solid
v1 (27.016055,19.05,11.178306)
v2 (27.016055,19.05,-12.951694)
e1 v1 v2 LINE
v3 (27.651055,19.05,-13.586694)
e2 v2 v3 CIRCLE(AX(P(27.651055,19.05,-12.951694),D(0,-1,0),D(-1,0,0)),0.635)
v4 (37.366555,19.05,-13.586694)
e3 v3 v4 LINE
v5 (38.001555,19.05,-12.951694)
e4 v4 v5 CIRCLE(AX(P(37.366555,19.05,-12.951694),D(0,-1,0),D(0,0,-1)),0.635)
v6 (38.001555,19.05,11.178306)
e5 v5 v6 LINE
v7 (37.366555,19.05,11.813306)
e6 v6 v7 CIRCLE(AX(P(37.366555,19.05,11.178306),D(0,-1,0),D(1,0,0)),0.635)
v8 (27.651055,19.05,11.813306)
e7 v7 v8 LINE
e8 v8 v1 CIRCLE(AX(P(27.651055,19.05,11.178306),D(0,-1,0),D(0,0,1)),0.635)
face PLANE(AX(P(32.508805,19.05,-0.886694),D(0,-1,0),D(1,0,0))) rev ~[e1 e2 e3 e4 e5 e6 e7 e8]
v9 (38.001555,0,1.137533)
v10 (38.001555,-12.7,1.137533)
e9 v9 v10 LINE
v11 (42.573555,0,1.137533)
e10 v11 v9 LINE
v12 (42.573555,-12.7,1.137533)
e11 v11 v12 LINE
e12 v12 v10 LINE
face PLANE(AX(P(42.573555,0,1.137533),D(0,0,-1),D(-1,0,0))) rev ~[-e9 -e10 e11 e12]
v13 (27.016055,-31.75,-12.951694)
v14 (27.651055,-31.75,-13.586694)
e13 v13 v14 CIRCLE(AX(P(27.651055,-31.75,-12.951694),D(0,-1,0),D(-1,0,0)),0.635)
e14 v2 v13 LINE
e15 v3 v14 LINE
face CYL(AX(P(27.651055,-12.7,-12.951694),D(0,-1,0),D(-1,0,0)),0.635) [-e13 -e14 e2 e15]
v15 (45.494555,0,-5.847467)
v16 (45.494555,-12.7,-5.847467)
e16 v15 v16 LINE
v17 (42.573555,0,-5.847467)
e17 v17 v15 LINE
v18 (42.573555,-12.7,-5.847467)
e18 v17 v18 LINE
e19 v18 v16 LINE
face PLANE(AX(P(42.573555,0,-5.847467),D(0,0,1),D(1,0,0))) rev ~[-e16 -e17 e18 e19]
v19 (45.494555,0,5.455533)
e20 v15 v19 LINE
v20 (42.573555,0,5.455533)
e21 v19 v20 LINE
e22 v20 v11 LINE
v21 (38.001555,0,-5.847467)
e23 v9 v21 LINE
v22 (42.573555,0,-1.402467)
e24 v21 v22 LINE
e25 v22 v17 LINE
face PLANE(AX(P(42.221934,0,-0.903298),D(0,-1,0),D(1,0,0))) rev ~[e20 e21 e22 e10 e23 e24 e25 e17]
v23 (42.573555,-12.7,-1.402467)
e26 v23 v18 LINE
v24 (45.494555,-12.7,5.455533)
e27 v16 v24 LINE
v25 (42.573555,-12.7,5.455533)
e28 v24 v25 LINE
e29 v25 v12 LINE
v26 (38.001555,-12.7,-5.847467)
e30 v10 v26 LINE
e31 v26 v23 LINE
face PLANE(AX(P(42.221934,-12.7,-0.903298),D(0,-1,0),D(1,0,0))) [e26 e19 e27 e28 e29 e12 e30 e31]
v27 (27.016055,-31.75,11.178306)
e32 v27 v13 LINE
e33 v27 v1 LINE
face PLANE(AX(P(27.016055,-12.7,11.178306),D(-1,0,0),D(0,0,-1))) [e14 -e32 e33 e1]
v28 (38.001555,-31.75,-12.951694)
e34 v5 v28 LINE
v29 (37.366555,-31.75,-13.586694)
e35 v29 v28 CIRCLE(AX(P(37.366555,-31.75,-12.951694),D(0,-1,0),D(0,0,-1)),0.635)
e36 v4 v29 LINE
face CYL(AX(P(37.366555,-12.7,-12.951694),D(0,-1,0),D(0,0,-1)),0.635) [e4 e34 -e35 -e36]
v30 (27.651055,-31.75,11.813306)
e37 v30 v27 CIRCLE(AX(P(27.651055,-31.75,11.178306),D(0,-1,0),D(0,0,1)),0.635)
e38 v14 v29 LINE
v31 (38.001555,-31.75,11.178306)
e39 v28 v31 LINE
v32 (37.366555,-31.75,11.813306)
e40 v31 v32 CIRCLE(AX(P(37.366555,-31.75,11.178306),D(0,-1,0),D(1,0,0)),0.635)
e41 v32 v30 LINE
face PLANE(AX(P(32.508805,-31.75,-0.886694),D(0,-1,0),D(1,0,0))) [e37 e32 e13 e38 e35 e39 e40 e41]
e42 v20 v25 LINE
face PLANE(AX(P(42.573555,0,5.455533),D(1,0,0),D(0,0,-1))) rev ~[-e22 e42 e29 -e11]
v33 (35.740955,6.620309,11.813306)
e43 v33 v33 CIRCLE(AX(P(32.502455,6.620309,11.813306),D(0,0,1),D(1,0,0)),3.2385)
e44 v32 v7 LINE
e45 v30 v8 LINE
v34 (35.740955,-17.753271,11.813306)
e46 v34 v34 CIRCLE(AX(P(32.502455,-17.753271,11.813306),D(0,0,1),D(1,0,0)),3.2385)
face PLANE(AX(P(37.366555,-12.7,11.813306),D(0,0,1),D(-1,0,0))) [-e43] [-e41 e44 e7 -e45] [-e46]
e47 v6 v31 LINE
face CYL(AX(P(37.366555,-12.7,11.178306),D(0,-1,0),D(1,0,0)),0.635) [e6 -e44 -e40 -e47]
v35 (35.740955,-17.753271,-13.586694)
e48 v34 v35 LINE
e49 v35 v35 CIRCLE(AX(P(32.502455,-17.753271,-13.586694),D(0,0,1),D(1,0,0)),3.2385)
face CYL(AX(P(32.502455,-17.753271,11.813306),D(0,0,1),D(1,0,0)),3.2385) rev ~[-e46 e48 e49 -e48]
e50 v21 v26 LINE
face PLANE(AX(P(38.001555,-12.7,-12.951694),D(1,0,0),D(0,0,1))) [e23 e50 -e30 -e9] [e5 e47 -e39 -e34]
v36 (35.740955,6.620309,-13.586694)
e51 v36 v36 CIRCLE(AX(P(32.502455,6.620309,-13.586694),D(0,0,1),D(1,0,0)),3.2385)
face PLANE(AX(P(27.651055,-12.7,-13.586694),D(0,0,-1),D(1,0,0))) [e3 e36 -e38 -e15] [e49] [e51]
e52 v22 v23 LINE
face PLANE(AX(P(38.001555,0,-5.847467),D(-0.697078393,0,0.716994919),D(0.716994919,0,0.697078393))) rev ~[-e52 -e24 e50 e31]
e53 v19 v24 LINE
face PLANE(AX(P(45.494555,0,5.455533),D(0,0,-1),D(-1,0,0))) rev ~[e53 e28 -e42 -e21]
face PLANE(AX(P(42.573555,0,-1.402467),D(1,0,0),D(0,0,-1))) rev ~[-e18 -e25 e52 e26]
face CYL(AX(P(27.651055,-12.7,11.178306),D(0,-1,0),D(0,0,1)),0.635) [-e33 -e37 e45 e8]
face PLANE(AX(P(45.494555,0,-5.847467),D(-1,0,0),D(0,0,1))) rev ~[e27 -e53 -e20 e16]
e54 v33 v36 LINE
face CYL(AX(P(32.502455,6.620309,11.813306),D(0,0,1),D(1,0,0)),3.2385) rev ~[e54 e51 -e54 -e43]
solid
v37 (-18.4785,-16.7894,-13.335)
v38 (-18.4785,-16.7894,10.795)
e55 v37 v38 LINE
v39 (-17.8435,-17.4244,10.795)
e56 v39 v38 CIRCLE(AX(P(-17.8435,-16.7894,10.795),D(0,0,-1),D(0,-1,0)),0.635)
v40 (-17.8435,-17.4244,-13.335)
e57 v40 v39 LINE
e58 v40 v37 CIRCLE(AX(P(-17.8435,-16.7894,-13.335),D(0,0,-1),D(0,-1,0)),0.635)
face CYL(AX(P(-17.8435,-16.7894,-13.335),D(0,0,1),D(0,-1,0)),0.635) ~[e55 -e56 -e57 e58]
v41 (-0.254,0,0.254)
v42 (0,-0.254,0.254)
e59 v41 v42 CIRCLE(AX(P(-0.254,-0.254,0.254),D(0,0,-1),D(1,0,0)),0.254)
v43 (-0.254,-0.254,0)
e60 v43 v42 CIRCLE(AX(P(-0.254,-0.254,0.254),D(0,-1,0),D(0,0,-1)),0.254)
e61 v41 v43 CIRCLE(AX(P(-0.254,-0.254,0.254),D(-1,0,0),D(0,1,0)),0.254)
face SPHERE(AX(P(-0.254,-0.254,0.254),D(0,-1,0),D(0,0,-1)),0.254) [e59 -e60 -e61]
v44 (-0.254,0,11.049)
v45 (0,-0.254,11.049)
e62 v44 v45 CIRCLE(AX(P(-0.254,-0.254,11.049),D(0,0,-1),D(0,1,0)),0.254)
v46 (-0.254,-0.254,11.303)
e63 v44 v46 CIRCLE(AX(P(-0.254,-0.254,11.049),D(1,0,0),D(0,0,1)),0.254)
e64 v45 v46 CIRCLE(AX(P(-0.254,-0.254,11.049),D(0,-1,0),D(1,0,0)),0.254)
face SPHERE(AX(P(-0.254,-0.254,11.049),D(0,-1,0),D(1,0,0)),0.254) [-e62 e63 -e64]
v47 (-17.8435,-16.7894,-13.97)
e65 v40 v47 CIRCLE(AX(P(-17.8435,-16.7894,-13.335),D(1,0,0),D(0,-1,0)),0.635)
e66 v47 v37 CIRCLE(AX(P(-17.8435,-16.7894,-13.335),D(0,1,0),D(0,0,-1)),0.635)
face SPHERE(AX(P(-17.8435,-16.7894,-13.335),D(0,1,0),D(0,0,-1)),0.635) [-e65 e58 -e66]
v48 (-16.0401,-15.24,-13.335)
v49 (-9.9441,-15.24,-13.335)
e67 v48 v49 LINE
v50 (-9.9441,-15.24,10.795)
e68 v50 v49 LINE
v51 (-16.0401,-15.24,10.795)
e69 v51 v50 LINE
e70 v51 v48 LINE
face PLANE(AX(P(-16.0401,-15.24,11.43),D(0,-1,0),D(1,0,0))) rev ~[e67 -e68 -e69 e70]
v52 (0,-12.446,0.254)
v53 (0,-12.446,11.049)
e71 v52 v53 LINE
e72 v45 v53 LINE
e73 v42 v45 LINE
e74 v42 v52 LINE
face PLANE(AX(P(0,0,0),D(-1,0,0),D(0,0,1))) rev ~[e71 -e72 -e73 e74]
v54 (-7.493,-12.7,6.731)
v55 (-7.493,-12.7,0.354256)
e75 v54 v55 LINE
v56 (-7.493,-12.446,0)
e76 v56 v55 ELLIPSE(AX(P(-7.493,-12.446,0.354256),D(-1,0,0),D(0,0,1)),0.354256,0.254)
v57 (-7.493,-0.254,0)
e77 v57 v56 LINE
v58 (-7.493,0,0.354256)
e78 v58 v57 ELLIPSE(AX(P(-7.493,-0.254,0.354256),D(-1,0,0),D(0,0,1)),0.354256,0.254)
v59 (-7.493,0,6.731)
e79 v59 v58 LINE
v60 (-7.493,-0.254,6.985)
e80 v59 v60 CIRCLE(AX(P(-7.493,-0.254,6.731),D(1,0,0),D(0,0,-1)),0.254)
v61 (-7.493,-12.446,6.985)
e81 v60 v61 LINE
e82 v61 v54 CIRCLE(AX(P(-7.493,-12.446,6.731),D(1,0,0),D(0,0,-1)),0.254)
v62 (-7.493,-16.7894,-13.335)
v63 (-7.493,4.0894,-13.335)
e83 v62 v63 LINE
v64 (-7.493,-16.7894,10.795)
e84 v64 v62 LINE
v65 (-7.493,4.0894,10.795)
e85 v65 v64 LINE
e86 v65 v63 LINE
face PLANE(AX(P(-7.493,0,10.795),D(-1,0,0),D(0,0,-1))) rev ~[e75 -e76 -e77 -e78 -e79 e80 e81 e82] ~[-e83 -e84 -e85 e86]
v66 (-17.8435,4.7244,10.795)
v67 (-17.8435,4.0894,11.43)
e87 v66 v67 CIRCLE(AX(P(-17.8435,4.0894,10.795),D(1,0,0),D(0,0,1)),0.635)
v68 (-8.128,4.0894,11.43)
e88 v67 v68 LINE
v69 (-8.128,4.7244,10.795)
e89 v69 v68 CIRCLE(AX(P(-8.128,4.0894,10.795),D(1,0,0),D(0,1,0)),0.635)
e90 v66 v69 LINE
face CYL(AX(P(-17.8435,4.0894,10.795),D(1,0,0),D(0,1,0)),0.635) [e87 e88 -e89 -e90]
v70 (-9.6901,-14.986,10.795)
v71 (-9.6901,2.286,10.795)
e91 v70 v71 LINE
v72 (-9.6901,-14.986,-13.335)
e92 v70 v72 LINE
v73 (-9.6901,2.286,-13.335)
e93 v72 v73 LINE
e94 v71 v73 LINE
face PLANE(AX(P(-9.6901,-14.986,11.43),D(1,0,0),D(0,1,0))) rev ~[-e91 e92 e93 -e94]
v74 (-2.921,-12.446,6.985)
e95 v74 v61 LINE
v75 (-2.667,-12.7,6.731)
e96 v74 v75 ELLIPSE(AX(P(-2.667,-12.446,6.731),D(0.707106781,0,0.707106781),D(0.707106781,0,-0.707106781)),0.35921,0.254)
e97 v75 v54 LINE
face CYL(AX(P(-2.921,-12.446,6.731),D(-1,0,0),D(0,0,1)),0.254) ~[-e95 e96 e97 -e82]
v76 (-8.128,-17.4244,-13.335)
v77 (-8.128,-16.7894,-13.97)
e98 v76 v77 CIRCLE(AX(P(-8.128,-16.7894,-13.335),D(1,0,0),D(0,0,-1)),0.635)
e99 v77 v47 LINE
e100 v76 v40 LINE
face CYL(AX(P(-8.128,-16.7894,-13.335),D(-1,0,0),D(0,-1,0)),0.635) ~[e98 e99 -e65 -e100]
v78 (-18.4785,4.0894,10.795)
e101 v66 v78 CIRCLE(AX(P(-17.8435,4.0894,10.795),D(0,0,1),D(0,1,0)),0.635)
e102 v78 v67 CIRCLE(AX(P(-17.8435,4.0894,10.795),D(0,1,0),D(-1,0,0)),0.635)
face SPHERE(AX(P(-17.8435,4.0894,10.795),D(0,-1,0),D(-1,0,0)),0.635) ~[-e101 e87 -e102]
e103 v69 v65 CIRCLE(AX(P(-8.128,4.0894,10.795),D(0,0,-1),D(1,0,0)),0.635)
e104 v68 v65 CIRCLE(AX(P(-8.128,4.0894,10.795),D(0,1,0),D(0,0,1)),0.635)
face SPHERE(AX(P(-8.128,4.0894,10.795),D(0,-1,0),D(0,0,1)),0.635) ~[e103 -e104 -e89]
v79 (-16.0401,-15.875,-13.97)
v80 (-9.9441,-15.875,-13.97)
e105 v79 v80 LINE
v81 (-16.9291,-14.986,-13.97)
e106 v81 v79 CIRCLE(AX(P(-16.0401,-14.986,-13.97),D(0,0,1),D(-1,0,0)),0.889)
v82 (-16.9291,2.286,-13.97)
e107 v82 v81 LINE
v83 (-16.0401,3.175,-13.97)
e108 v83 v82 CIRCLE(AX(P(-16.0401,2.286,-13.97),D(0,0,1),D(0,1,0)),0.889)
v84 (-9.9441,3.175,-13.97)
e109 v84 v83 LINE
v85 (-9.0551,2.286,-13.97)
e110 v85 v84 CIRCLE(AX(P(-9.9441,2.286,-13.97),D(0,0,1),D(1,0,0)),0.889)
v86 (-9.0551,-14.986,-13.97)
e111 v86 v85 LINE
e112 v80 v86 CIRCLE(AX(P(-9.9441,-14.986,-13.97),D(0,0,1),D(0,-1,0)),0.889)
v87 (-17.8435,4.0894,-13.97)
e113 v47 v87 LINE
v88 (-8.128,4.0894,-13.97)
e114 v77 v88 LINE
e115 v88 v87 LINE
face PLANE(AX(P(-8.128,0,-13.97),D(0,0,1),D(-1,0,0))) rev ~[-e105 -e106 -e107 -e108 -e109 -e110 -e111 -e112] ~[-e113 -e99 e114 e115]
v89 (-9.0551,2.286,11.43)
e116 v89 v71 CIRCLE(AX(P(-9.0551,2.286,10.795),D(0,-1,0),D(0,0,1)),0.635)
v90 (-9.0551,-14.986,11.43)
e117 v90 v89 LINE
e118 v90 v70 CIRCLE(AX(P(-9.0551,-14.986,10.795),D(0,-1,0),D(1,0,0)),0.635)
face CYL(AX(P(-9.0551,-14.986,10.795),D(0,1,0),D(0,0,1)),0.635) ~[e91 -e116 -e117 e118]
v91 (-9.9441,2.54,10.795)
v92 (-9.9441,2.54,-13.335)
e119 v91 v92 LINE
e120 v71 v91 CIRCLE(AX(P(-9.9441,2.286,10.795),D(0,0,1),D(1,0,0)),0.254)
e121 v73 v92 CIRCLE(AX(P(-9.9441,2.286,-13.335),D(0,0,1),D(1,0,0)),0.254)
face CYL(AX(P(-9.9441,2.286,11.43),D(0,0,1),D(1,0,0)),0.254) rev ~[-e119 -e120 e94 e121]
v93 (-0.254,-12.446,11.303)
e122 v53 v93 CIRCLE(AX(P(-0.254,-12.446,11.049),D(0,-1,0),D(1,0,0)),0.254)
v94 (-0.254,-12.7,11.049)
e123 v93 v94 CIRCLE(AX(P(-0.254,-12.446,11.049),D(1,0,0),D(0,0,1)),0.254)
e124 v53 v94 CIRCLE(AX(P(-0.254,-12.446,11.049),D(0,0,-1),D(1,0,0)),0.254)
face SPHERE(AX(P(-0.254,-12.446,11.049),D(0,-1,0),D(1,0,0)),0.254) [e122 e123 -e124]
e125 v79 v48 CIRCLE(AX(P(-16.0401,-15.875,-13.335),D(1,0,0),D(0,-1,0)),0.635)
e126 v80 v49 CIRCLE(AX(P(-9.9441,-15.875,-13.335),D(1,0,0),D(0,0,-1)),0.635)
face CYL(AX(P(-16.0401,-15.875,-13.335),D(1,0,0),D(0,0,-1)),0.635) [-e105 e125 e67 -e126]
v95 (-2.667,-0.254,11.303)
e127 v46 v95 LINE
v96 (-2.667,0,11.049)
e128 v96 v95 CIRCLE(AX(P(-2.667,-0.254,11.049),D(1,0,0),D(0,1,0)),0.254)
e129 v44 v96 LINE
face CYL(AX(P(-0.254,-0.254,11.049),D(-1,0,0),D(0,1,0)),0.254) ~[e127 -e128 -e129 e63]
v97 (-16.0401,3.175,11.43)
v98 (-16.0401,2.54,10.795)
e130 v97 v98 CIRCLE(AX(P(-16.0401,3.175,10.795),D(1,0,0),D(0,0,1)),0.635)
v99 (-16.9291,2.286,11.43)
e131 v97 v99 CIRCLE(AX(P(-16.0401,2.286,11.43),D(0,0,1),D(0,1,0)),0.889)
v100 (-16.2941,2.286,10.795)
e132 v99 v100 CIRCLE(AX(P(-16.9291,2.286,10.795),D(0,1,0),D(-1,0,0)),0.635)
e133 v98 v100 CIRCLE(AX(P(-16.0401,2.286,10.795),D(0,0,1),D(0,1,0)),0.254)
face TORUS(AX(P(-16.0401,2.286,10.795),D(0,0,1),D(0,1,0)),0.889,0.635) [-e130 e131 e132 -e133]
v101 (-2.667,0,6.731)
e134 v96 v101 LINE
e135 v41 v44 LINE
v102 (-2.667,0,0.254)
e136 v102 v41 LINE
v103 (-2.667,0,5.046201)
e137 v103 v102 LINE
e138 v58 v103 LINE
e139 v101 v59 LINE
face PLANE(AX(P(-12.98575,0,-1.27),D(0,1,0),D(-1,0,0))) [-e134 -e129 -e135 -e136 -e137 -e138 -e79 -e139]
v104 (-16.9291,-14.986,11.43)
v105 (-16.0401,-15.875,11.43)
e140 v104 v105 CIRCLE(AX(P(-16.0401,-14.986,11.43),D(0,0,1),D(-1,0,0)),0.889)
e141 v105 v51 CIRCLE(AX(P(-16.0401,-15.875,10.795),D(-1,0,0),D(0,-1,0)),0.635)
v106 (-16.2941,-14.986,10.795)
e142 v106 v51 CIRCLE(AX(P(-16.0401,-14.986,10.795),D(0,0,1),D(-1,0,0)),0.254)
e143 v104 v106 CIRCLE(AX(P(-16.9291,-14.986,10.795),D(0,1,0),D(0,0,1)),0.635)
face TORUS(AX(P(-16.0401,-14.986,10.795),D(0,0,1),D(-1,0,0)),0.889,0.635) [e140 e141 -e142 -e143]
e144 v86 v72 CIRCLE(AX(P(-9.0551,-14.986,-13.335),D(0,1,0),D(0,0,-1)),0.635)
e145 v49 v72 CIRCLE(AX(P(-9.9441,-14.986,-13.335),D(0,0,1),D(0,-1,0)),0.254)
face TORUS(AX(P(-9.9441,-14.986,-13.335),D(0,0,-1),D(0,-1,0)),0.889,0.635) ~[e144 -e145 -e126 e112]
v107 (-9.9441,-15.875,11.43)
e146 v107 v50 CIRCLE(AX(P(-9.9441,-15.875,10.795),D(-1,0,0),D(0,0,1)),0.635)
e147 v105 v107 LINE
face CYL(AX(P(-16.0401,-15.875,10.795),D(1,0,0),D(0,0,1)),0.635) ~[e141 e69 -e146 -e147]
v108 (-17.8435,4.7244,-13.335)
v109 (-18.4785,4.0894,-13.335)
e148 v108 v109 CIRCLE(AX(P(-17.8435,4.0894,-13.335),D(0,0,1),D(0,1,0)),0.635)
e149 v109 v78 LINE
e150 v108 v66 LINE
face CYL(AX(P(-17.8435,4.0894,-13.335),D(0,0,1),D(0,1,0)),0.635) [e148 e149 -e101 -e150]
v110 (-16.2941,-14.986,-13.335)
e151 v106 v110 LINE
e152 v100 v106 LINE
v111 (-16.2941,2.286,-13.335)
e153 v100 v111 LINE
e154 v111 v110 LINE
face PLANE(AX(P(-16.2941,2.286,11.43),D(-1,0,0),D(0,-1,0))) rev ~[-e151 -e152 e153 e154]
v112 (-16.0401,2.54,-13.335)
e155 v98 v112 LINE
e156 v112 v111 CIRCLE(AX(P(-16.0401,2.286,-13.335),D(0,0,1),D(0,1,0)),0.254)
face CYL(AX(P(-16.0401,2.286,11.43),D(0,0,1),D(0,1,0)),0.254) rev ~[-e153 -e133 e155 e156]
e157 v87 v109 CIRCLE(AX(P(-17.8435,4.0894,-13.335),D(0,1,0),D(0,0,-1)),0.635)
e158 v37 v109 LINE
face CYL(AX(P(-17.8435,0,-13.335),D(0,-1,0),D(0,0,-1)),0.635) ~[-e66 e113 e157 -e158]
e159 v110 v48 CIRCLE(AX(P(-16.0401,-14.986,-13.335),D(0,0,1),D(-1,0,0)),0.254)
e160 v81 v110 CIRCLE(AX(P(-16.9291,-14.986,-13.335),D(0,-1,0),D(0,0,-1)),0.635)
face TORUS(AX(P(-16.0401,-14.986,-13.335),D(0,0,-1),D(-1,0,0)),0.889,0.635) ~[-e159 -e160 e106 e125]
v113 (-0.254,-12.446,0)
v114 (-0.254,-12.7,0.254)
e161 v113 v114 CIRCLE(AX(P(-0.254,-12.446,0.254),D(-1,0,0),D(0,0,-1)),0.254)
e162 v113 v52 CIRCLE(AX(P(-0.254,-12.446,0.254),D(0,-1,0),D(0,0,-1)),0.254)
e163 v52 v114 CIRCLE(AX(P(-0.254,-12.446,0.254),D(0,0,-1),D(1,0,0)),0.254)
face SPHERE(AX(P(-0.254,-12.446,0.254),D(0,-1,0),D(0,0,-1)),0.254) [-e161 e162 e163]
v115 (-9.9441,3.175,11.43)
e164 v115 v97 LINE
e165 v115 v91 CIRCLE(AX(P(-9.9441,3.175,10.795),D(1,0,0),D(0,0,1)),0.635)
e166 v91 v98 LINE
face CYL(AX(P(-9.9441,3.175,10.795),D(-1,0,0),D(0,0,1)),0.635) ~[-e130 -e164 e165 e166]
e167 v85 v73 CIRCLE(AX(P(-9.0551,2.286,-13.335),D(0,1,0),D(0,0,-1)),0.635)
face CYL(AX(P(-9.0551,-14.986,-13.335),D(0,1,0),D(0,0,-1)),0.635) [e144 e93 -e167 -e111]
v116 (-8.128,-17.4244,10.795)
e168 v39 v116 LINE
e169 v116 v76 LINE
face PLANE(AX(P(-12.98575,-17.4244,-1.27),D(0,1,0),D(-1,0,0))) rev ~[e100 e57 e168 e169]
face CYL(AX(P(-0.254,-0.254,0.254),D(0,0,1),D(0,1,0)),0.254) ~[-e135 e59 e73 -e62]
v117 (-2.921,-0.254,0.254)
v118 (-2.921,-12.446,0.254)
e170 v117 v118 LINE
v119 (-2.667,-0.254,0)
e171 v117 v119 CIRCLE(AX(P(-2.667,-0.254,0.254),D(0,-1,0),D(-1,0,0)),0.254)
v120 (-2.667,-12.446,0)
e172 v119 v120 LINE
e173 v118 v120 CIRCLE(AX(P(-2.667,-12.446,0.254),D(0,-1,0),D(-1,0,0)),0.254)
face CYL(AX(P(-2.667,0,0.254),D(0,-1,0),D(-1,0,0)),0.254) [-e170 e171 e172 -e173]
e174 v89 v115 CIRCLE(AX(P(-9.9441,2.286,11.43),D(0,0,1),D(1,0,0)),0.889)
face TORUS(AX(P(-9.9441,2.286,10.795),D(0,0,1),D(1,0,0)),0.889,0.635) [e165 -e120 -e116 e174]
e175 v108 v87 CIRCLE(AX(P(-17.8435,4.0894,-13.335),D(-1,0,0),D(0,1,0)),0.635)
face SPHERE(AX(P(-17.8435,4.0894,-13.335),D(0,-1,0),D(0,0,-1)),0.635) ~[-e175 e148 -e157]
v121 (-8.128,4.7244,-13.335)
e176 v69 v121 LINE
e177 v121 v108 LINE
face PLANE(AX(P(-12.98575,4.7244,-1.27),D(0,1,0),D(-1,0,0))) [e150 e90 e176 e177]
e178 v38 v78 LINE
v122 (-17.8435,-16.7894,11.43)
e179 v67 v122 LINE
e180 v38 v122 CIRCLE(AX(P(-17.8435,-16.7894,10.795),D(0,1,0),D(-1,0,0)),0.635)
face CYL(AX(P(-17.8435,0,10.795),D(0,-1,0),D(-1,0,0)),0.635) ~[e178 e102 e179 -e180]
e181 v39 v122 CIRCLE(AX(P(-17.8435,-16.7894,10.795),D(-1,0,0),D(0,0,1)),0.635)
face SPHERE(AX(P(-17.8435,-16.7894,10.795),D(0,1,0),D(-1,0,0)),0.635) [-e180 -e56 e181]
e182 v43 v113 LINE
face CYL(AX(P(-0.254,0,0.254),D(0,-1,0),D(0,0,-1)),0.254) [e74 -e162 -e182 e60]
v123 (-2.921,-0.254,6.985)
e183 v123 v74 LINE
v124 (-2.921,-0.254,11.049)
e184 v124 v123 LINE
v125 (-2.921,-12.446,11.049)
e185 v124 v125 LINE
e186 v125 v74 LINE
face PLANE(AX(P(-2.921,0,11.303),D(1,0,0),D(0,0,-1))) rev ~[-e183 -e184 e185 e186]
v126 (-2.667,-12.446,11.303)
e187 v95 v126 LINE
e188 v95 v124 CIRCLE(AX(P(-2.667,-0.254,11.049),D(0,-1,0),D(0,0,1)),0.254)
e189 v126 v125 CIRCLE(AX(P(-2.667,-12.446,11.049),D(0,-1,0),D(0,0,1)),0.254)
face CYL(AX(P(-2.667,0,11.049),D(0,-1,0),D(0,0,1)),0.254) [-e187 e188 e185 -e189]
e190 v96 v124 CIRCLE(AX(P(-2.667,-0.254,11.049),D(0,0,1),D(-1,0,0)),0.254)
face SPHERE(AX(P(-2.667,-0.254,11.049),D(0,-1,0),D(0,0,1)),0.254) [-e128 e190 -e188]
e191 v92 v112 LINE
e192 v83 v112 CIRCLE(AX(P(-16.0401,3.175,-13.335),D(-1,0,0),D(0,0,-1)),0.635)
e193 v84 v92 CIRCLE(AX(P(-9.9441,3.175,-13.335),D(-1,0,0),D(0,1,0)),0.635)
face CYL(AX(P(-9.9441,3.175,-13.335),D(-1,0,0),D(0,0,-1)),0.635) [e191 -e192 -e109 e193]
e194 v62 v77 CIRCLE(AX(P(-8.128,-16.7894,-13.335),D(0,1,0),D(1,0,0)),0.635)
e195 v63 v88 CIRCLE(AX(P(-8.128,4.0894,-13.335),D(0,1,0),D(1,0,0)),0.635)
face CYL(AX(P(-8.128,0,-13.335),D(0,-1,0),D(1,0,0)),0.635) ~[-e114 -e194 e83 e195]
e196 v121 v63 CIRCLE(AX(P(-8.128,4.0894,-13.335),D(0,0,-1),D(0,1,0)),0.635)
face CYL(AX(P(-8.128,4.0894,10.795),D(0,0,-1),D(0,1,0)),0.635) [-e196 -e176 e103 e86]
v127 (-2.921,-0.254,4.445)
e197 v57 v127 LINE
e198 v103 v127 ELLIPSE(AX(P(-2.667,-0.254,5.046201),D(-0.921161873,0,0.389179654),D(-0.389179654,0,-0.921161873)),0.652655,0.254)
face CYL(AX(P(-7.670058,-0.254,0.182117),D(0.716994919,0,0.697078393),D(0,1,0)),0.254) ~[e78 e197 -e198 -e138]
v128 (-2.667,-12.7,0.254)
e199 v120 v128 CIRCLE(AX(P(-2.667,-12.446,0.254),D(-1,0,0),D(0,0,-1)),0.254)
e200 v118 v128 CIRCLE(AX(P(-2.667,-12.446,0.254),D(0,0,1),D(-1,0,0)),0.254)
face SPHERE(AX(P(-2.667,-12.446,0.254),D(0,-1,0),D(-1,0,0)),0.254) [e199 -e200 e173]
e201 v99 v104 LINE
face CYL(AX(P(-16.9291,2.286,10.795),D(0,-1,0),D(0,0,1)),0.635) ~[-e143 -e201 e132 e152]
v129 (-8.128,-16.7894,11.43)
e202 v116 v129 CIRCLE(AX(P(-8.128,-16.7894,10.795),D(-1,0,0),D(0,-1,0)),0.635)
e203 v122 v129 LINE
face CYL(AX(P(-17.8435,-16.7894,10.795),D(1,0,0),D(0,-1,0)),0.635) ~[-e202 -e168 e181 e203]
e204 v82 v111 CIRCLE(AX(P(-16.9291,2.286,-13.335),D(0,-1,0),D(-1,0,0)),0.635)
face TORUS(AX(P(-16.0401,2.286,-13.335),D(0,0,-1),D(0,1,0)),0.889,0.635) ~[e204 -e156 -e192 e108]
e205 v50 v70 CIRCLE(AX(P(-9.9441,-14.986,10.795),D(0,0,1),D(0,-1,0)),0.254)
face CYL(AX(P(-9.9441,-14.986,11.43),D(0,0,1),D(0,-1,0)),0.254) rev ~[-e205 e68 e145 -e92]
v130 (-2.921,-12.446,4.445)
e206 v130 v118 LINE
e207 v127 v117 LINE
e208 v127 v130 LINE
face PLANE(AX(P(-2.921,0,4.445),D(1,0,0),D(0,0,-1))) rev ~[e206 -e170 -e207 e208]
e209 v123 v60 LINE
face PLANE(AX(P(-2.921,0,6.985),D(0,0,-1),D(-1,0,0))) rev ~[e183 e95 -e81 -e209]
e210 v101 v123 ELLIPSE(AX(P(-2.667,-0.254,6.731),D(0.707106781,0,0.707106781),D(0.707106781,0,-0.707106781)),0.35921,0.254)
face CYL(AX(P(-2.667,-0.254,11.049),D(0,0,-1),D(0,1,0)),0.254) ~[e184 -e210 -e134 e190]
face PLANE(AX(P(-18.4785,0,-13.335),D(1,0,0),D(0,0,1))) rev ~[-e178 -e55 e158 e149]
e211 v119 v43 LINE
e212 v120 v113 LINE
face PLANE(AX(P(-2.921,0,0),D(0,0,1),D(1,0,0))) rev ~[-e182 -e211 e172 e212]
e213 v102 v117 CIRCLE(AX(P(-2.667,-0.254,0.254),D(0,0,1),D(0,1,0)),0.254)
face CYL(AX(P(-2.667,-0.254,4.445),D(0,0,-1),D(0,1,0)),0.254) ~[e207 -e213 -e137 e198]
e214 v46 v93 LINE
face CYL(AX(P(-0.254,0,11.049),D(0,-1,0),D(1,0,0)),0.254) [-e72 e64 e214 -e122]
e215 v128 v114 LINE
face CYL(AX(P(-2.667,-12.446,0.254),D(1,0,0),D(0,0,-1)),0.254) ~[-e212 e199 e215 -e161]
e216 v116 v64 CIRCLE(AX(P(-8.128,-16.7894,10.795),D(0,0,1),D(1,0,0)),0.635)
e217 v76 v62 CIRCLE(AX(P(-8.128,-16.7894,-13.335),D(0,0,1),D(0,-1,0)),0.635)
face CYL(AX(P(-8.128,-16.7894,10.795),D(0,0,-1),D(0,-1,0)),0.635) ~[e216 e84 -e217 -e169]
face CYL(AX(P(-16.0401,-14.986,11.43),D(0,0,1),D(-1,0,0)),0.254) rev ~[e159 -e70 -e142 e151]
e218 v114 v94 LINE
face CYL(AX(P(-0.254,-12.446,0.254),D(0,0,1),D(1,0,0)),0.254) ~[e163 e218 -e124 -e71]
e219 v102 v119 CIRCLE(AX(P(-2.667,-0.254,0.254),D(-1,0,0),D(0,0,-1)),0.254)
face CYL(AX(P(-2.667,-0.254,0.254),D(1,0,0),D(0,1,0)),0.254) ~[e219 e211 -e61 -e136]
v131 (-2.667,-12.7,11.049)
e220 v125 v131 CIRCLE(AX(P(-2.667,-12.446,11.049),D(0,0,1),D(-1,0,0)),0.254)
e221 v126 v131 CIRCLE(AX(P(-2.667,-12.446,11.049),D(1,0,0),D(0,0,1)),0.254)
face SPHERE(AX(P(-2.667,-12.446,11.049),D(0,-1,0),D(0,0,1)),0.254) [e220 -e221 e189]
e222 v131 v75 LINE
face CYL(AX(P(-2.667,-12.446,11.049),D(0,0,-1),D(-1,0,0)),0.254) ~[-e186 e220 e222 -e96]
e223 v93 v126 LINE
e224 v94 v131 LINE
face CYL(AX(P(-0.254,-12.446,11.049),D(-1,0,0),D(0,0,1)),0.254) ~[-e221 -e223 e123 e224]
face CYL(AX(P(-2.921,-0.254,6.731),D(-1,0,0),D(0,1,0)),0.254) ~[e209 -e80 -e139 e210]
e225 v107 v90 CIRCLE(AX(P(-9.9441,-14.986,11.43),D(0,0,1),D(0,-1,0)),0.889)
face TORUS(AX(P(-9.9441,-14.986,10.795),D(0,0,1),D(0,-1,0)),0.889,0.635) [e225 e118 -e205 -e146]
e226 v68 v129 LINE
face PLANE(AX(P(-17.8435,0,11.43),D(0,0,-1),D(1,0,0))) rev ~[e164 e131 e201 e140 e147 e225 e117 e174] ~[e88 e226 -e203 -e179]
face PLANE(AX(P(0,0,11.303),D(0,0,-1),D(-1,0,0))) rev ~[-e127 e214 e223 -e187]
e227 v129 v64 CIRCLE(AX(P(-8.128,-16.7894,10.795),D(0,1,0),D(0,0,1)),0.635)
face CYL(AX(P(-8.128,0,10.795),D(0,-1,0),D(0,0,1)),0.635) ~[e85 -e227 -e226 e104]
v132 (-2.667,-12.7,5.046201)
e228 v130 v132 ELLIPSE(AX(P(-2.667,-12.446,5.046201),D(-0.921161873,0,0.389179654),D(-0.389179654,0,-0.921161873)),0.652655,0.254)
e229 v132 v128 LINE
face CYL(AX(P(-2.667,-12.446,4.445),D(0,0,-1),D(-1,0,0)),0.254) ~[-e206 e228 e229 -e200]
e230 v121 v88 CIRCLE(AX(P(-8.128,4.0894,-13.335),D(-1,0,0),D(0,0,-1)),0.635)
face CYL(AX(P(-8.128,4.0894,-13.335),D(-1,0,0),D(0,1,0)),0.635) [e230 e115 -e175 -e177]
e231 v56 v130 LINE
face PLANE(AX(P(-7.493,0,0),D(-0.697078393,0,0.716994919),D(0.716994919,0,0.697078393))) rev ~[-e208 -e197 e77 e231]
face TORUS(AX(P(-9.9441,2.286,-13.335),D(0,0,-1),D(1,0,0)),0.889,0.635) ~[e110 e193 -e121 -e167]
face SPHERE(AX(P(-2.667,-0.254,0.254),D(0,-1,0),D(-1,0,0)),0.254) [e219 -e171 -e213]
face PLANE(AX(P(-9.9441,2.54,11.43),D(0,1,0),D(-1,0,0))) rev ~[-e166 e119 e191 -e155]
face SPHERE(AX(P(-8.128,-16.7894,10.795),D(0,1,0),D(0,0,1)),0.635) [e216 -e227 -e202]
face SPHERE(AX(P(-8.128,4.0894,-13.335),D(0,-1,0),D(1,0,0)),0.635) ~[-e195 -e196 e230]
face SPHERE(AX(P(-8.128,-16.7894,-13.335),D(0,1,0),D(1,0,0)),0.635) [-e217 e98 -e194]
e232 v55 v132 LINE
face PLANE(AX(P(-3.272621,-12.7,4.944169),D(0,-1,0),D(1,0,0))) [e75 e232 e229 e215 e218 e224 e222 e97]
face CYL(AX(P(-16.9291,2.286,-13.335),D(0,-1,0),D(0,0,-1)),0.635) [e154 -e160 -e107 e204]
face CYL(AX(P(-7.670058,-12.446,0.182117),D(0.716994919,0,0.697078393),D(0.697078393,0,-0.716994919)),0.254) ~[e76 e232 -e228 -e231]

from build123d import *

# Parameters (mm, degrees)
F1_DEPTH      = 12.7
F3_DEPTH      = 17.4244
F3_DEPTH_BACK = 4.7244
F5_DEPTH      = 25.401
F7_DEPTH      = 12.7
F9_DEPTH      = 19.05
F9_DEPTH_BACK = 31.75
F10_R         = 3.2385
F11_DEPTH     = 25.784305759
F12_R         = 0.635
F13_R         = 0.254
F14_R         = 0.254
F15_R         = 0.635


with BuildPart() as f1:
    # F0 (on Front) → F1 (new body)
    with BuildSketch(Plane.XZ):
        Polygon((-2.921, 0), (0, 0), (0, 11.303), (-2.921, 11.303), (-2.921, 6.985), (-7.493, 6.985), (-7.493, 0), (-2.921, 4.445), align=None)
    extrude(amount=F1_DEPTH)

    # F2 (on face) → F3 (join, two sides)
    with BuildSketch(Plane(origin=(0, 0, 0), x_dir=(-1, 0, 0), z_dir=(0, 1, 0))) as f3_sk:
        with BuildLine():
            Line((7.493, 10.795), (7.493, 0))
            Line((7.493, 0), (7.493, -13.335))
            ThreePointArc((7.493, -13.335), (7.6789871939, -13.7840128061), (8.128, -13.97))
            Line((8.128, -13.97), (17.8435, -13.97))
            ThreePointArc((17.8435, -13.97), (18.2925128061, -13.7840128061), (18.4785, -13.335))
            Line((18.4785, -13.335), (18.4785, 10.795))
            ThreePointArc((18.4785, 10.795), (18.2925128061, 11.2440128061), (17.8435, 11.43))
            Line((17.8435, 11.43), (8.128, 11.43))
            ThreePointArc((8.128, 11.43), (7.6789871939, 11.2440128061), (7.493, 10.795))
        make_face()
    extrude(amount=-F3_DEPTH)
    extrude(f3_sk.sketch, amount=F3_DEPTH_BACK)

    # F4 (on face) → F5 (cut, through all)
    with BuildSketch(Plane.XY.offset(11.43)):
        with BuildLine():
            Line((-9.9441, 2.54), (-16.0401, 2.54))
            ThreePointArc((-16.0401, 2.54), (-16.2197051224, 2.4656051224), (-16.2941, 2.286))
            Line((-16.2941, 2.286), (-16.2941, -14.986))
            ThreePointArc((-16.2941, -14.986), (-16.2197051224, -15.1656051224), (-16.0401, -15.24))
            Line((-16.0401, -15.24), (-9.9441, -15.24))
            ThreePointArc((-9.9441, -15.24), (-9.7644948776, -15.1656051224), (-9.6901, -14.986))
            Line((-9.6901, -14.986), (-9.6901, 2.286))
            ThreePointArc((-9.6901, 2.286), (-9.7644948776, 2.4656051224), (-9.9441, 2.54))
        make_face()
    extrude(amount=-F5_DEPTH, mode=Mode.SUBTRACT)

    # F12
    f12_edges = [f1.edges().sort_by_distance(p)[0] for p in [
        (-18.4785, -17.4244, -1.27),
        (-18.4785, 4.7244, -1.27),
    ]]
    fillet(f12_edges, radius=F12_R)

    # F13
    f13_edges = [f1.edges().sort_by_distance(p)[0] for p in [
        (0, -6.35, 11.303),
        (0, -6.35, 0),
        (-2.921, -6.35, 11.303),
        (-2.921, -6.35, 0),
    ]]
    fillet(f13_edges, radius=F13_R)

    # F14
    f14_edges = [f1.edges().sort_by_distance(p)[0] for p in [
        (-1.4605, -12.7, 0),
        (-0.074395, -12.7, 0.074395),
        (-5.207, -12.7, 2.2225),
        (-5.207, -12.7, 6.985),
        (0, 0, 5.6515),
        (-5.207, 0, 2.2225),
        (-5.207, 0, 6.985),
    ]]
    fillet(f14_edges, radius=F14_R)

    # F15
    f15_edges = [f1.edges().sort_by_distance(p)[0] for p in [
        (-12.9921, 2.54, 11.43),
        (-9.6901, -6.35, -13.97),
    ]]
    fillet(f15_edges, radius=F15_R)


with BuildPart() as f7:
    # F6 (on Front) → F7 (new body)
    with BuildSketch(Plane.XZ):
        Polygon((42.5735553148, -5.8474665115), (45.4945553148, -5.8474665115), (45.4945553148, 5.4555334885), (42.5735553148, 5.4555334885), (42.5735553148, 1.1375334885), (38.0015553148, 1.1375334885), (38.0015553148, -5.8474665115), (42.5735553148, -1.4024665115), align=None)
    extrude(amount=F7_DEPTH)

    # F8 (on face) → F9 (join, two sides)
    with BuildSketch(Plane.XZ.offset(12.7)) as f9_sk:
        with BuildLine():
            Line((27.0160553148, 11.178305759), (27.0160553148, 0.383305759))
            Line((27.0160553148, 0.383305759), (27.0160553148, -12.951694241))
            ThreePointArc((27.0160553148, -12.951694241), (27.2020425087, -13.400707047), (27.6510553148, -13.586694241))
            Line((27.6510553148, -13.586694241), (37.3665553148, -13.586694241))
            ThreePointArc((37.3665553148, -13.586694241), (37.8155681208, -13.400707047), (38.0015553148, -12.951694241))
            Line((38.0015553148, -12.951694241), (38.0015553148, 11.178305759))
            ThreePointArc((38.0015553148, 11.178305759), (37.8155681208, 11.6273185651), (37.3665553148, 11.813305759))
            Line((37.3665553148, 11.813305759), (27.6510553148, 11.813305759))
            ThreePointArc((27.6510553148, 11.813305759), (27.2020425087, 11.6273185651), (27.0160553148, 11.178305759))
        make_face()
    extrude(amount=F9_DEPTH)
    extrude(f9_sk.sketch, amount=-F9_DEPTH_BACK)

    # F10 (on face) → F11 (cut, through all)
    with BuildSketch(Plane.XY.offset(11.813305759)):
        with Locations((32.5024553148, 6.62030885)):
            Circle(F10_R)
        with Locations((32.5024553148, -17.7532714375)):
            Circle(F10_R)
    extrude(amount=-F11_DEPTH, mode=Mode.SUBTRACT)


solid = Compound([f1.part, f7.part])
